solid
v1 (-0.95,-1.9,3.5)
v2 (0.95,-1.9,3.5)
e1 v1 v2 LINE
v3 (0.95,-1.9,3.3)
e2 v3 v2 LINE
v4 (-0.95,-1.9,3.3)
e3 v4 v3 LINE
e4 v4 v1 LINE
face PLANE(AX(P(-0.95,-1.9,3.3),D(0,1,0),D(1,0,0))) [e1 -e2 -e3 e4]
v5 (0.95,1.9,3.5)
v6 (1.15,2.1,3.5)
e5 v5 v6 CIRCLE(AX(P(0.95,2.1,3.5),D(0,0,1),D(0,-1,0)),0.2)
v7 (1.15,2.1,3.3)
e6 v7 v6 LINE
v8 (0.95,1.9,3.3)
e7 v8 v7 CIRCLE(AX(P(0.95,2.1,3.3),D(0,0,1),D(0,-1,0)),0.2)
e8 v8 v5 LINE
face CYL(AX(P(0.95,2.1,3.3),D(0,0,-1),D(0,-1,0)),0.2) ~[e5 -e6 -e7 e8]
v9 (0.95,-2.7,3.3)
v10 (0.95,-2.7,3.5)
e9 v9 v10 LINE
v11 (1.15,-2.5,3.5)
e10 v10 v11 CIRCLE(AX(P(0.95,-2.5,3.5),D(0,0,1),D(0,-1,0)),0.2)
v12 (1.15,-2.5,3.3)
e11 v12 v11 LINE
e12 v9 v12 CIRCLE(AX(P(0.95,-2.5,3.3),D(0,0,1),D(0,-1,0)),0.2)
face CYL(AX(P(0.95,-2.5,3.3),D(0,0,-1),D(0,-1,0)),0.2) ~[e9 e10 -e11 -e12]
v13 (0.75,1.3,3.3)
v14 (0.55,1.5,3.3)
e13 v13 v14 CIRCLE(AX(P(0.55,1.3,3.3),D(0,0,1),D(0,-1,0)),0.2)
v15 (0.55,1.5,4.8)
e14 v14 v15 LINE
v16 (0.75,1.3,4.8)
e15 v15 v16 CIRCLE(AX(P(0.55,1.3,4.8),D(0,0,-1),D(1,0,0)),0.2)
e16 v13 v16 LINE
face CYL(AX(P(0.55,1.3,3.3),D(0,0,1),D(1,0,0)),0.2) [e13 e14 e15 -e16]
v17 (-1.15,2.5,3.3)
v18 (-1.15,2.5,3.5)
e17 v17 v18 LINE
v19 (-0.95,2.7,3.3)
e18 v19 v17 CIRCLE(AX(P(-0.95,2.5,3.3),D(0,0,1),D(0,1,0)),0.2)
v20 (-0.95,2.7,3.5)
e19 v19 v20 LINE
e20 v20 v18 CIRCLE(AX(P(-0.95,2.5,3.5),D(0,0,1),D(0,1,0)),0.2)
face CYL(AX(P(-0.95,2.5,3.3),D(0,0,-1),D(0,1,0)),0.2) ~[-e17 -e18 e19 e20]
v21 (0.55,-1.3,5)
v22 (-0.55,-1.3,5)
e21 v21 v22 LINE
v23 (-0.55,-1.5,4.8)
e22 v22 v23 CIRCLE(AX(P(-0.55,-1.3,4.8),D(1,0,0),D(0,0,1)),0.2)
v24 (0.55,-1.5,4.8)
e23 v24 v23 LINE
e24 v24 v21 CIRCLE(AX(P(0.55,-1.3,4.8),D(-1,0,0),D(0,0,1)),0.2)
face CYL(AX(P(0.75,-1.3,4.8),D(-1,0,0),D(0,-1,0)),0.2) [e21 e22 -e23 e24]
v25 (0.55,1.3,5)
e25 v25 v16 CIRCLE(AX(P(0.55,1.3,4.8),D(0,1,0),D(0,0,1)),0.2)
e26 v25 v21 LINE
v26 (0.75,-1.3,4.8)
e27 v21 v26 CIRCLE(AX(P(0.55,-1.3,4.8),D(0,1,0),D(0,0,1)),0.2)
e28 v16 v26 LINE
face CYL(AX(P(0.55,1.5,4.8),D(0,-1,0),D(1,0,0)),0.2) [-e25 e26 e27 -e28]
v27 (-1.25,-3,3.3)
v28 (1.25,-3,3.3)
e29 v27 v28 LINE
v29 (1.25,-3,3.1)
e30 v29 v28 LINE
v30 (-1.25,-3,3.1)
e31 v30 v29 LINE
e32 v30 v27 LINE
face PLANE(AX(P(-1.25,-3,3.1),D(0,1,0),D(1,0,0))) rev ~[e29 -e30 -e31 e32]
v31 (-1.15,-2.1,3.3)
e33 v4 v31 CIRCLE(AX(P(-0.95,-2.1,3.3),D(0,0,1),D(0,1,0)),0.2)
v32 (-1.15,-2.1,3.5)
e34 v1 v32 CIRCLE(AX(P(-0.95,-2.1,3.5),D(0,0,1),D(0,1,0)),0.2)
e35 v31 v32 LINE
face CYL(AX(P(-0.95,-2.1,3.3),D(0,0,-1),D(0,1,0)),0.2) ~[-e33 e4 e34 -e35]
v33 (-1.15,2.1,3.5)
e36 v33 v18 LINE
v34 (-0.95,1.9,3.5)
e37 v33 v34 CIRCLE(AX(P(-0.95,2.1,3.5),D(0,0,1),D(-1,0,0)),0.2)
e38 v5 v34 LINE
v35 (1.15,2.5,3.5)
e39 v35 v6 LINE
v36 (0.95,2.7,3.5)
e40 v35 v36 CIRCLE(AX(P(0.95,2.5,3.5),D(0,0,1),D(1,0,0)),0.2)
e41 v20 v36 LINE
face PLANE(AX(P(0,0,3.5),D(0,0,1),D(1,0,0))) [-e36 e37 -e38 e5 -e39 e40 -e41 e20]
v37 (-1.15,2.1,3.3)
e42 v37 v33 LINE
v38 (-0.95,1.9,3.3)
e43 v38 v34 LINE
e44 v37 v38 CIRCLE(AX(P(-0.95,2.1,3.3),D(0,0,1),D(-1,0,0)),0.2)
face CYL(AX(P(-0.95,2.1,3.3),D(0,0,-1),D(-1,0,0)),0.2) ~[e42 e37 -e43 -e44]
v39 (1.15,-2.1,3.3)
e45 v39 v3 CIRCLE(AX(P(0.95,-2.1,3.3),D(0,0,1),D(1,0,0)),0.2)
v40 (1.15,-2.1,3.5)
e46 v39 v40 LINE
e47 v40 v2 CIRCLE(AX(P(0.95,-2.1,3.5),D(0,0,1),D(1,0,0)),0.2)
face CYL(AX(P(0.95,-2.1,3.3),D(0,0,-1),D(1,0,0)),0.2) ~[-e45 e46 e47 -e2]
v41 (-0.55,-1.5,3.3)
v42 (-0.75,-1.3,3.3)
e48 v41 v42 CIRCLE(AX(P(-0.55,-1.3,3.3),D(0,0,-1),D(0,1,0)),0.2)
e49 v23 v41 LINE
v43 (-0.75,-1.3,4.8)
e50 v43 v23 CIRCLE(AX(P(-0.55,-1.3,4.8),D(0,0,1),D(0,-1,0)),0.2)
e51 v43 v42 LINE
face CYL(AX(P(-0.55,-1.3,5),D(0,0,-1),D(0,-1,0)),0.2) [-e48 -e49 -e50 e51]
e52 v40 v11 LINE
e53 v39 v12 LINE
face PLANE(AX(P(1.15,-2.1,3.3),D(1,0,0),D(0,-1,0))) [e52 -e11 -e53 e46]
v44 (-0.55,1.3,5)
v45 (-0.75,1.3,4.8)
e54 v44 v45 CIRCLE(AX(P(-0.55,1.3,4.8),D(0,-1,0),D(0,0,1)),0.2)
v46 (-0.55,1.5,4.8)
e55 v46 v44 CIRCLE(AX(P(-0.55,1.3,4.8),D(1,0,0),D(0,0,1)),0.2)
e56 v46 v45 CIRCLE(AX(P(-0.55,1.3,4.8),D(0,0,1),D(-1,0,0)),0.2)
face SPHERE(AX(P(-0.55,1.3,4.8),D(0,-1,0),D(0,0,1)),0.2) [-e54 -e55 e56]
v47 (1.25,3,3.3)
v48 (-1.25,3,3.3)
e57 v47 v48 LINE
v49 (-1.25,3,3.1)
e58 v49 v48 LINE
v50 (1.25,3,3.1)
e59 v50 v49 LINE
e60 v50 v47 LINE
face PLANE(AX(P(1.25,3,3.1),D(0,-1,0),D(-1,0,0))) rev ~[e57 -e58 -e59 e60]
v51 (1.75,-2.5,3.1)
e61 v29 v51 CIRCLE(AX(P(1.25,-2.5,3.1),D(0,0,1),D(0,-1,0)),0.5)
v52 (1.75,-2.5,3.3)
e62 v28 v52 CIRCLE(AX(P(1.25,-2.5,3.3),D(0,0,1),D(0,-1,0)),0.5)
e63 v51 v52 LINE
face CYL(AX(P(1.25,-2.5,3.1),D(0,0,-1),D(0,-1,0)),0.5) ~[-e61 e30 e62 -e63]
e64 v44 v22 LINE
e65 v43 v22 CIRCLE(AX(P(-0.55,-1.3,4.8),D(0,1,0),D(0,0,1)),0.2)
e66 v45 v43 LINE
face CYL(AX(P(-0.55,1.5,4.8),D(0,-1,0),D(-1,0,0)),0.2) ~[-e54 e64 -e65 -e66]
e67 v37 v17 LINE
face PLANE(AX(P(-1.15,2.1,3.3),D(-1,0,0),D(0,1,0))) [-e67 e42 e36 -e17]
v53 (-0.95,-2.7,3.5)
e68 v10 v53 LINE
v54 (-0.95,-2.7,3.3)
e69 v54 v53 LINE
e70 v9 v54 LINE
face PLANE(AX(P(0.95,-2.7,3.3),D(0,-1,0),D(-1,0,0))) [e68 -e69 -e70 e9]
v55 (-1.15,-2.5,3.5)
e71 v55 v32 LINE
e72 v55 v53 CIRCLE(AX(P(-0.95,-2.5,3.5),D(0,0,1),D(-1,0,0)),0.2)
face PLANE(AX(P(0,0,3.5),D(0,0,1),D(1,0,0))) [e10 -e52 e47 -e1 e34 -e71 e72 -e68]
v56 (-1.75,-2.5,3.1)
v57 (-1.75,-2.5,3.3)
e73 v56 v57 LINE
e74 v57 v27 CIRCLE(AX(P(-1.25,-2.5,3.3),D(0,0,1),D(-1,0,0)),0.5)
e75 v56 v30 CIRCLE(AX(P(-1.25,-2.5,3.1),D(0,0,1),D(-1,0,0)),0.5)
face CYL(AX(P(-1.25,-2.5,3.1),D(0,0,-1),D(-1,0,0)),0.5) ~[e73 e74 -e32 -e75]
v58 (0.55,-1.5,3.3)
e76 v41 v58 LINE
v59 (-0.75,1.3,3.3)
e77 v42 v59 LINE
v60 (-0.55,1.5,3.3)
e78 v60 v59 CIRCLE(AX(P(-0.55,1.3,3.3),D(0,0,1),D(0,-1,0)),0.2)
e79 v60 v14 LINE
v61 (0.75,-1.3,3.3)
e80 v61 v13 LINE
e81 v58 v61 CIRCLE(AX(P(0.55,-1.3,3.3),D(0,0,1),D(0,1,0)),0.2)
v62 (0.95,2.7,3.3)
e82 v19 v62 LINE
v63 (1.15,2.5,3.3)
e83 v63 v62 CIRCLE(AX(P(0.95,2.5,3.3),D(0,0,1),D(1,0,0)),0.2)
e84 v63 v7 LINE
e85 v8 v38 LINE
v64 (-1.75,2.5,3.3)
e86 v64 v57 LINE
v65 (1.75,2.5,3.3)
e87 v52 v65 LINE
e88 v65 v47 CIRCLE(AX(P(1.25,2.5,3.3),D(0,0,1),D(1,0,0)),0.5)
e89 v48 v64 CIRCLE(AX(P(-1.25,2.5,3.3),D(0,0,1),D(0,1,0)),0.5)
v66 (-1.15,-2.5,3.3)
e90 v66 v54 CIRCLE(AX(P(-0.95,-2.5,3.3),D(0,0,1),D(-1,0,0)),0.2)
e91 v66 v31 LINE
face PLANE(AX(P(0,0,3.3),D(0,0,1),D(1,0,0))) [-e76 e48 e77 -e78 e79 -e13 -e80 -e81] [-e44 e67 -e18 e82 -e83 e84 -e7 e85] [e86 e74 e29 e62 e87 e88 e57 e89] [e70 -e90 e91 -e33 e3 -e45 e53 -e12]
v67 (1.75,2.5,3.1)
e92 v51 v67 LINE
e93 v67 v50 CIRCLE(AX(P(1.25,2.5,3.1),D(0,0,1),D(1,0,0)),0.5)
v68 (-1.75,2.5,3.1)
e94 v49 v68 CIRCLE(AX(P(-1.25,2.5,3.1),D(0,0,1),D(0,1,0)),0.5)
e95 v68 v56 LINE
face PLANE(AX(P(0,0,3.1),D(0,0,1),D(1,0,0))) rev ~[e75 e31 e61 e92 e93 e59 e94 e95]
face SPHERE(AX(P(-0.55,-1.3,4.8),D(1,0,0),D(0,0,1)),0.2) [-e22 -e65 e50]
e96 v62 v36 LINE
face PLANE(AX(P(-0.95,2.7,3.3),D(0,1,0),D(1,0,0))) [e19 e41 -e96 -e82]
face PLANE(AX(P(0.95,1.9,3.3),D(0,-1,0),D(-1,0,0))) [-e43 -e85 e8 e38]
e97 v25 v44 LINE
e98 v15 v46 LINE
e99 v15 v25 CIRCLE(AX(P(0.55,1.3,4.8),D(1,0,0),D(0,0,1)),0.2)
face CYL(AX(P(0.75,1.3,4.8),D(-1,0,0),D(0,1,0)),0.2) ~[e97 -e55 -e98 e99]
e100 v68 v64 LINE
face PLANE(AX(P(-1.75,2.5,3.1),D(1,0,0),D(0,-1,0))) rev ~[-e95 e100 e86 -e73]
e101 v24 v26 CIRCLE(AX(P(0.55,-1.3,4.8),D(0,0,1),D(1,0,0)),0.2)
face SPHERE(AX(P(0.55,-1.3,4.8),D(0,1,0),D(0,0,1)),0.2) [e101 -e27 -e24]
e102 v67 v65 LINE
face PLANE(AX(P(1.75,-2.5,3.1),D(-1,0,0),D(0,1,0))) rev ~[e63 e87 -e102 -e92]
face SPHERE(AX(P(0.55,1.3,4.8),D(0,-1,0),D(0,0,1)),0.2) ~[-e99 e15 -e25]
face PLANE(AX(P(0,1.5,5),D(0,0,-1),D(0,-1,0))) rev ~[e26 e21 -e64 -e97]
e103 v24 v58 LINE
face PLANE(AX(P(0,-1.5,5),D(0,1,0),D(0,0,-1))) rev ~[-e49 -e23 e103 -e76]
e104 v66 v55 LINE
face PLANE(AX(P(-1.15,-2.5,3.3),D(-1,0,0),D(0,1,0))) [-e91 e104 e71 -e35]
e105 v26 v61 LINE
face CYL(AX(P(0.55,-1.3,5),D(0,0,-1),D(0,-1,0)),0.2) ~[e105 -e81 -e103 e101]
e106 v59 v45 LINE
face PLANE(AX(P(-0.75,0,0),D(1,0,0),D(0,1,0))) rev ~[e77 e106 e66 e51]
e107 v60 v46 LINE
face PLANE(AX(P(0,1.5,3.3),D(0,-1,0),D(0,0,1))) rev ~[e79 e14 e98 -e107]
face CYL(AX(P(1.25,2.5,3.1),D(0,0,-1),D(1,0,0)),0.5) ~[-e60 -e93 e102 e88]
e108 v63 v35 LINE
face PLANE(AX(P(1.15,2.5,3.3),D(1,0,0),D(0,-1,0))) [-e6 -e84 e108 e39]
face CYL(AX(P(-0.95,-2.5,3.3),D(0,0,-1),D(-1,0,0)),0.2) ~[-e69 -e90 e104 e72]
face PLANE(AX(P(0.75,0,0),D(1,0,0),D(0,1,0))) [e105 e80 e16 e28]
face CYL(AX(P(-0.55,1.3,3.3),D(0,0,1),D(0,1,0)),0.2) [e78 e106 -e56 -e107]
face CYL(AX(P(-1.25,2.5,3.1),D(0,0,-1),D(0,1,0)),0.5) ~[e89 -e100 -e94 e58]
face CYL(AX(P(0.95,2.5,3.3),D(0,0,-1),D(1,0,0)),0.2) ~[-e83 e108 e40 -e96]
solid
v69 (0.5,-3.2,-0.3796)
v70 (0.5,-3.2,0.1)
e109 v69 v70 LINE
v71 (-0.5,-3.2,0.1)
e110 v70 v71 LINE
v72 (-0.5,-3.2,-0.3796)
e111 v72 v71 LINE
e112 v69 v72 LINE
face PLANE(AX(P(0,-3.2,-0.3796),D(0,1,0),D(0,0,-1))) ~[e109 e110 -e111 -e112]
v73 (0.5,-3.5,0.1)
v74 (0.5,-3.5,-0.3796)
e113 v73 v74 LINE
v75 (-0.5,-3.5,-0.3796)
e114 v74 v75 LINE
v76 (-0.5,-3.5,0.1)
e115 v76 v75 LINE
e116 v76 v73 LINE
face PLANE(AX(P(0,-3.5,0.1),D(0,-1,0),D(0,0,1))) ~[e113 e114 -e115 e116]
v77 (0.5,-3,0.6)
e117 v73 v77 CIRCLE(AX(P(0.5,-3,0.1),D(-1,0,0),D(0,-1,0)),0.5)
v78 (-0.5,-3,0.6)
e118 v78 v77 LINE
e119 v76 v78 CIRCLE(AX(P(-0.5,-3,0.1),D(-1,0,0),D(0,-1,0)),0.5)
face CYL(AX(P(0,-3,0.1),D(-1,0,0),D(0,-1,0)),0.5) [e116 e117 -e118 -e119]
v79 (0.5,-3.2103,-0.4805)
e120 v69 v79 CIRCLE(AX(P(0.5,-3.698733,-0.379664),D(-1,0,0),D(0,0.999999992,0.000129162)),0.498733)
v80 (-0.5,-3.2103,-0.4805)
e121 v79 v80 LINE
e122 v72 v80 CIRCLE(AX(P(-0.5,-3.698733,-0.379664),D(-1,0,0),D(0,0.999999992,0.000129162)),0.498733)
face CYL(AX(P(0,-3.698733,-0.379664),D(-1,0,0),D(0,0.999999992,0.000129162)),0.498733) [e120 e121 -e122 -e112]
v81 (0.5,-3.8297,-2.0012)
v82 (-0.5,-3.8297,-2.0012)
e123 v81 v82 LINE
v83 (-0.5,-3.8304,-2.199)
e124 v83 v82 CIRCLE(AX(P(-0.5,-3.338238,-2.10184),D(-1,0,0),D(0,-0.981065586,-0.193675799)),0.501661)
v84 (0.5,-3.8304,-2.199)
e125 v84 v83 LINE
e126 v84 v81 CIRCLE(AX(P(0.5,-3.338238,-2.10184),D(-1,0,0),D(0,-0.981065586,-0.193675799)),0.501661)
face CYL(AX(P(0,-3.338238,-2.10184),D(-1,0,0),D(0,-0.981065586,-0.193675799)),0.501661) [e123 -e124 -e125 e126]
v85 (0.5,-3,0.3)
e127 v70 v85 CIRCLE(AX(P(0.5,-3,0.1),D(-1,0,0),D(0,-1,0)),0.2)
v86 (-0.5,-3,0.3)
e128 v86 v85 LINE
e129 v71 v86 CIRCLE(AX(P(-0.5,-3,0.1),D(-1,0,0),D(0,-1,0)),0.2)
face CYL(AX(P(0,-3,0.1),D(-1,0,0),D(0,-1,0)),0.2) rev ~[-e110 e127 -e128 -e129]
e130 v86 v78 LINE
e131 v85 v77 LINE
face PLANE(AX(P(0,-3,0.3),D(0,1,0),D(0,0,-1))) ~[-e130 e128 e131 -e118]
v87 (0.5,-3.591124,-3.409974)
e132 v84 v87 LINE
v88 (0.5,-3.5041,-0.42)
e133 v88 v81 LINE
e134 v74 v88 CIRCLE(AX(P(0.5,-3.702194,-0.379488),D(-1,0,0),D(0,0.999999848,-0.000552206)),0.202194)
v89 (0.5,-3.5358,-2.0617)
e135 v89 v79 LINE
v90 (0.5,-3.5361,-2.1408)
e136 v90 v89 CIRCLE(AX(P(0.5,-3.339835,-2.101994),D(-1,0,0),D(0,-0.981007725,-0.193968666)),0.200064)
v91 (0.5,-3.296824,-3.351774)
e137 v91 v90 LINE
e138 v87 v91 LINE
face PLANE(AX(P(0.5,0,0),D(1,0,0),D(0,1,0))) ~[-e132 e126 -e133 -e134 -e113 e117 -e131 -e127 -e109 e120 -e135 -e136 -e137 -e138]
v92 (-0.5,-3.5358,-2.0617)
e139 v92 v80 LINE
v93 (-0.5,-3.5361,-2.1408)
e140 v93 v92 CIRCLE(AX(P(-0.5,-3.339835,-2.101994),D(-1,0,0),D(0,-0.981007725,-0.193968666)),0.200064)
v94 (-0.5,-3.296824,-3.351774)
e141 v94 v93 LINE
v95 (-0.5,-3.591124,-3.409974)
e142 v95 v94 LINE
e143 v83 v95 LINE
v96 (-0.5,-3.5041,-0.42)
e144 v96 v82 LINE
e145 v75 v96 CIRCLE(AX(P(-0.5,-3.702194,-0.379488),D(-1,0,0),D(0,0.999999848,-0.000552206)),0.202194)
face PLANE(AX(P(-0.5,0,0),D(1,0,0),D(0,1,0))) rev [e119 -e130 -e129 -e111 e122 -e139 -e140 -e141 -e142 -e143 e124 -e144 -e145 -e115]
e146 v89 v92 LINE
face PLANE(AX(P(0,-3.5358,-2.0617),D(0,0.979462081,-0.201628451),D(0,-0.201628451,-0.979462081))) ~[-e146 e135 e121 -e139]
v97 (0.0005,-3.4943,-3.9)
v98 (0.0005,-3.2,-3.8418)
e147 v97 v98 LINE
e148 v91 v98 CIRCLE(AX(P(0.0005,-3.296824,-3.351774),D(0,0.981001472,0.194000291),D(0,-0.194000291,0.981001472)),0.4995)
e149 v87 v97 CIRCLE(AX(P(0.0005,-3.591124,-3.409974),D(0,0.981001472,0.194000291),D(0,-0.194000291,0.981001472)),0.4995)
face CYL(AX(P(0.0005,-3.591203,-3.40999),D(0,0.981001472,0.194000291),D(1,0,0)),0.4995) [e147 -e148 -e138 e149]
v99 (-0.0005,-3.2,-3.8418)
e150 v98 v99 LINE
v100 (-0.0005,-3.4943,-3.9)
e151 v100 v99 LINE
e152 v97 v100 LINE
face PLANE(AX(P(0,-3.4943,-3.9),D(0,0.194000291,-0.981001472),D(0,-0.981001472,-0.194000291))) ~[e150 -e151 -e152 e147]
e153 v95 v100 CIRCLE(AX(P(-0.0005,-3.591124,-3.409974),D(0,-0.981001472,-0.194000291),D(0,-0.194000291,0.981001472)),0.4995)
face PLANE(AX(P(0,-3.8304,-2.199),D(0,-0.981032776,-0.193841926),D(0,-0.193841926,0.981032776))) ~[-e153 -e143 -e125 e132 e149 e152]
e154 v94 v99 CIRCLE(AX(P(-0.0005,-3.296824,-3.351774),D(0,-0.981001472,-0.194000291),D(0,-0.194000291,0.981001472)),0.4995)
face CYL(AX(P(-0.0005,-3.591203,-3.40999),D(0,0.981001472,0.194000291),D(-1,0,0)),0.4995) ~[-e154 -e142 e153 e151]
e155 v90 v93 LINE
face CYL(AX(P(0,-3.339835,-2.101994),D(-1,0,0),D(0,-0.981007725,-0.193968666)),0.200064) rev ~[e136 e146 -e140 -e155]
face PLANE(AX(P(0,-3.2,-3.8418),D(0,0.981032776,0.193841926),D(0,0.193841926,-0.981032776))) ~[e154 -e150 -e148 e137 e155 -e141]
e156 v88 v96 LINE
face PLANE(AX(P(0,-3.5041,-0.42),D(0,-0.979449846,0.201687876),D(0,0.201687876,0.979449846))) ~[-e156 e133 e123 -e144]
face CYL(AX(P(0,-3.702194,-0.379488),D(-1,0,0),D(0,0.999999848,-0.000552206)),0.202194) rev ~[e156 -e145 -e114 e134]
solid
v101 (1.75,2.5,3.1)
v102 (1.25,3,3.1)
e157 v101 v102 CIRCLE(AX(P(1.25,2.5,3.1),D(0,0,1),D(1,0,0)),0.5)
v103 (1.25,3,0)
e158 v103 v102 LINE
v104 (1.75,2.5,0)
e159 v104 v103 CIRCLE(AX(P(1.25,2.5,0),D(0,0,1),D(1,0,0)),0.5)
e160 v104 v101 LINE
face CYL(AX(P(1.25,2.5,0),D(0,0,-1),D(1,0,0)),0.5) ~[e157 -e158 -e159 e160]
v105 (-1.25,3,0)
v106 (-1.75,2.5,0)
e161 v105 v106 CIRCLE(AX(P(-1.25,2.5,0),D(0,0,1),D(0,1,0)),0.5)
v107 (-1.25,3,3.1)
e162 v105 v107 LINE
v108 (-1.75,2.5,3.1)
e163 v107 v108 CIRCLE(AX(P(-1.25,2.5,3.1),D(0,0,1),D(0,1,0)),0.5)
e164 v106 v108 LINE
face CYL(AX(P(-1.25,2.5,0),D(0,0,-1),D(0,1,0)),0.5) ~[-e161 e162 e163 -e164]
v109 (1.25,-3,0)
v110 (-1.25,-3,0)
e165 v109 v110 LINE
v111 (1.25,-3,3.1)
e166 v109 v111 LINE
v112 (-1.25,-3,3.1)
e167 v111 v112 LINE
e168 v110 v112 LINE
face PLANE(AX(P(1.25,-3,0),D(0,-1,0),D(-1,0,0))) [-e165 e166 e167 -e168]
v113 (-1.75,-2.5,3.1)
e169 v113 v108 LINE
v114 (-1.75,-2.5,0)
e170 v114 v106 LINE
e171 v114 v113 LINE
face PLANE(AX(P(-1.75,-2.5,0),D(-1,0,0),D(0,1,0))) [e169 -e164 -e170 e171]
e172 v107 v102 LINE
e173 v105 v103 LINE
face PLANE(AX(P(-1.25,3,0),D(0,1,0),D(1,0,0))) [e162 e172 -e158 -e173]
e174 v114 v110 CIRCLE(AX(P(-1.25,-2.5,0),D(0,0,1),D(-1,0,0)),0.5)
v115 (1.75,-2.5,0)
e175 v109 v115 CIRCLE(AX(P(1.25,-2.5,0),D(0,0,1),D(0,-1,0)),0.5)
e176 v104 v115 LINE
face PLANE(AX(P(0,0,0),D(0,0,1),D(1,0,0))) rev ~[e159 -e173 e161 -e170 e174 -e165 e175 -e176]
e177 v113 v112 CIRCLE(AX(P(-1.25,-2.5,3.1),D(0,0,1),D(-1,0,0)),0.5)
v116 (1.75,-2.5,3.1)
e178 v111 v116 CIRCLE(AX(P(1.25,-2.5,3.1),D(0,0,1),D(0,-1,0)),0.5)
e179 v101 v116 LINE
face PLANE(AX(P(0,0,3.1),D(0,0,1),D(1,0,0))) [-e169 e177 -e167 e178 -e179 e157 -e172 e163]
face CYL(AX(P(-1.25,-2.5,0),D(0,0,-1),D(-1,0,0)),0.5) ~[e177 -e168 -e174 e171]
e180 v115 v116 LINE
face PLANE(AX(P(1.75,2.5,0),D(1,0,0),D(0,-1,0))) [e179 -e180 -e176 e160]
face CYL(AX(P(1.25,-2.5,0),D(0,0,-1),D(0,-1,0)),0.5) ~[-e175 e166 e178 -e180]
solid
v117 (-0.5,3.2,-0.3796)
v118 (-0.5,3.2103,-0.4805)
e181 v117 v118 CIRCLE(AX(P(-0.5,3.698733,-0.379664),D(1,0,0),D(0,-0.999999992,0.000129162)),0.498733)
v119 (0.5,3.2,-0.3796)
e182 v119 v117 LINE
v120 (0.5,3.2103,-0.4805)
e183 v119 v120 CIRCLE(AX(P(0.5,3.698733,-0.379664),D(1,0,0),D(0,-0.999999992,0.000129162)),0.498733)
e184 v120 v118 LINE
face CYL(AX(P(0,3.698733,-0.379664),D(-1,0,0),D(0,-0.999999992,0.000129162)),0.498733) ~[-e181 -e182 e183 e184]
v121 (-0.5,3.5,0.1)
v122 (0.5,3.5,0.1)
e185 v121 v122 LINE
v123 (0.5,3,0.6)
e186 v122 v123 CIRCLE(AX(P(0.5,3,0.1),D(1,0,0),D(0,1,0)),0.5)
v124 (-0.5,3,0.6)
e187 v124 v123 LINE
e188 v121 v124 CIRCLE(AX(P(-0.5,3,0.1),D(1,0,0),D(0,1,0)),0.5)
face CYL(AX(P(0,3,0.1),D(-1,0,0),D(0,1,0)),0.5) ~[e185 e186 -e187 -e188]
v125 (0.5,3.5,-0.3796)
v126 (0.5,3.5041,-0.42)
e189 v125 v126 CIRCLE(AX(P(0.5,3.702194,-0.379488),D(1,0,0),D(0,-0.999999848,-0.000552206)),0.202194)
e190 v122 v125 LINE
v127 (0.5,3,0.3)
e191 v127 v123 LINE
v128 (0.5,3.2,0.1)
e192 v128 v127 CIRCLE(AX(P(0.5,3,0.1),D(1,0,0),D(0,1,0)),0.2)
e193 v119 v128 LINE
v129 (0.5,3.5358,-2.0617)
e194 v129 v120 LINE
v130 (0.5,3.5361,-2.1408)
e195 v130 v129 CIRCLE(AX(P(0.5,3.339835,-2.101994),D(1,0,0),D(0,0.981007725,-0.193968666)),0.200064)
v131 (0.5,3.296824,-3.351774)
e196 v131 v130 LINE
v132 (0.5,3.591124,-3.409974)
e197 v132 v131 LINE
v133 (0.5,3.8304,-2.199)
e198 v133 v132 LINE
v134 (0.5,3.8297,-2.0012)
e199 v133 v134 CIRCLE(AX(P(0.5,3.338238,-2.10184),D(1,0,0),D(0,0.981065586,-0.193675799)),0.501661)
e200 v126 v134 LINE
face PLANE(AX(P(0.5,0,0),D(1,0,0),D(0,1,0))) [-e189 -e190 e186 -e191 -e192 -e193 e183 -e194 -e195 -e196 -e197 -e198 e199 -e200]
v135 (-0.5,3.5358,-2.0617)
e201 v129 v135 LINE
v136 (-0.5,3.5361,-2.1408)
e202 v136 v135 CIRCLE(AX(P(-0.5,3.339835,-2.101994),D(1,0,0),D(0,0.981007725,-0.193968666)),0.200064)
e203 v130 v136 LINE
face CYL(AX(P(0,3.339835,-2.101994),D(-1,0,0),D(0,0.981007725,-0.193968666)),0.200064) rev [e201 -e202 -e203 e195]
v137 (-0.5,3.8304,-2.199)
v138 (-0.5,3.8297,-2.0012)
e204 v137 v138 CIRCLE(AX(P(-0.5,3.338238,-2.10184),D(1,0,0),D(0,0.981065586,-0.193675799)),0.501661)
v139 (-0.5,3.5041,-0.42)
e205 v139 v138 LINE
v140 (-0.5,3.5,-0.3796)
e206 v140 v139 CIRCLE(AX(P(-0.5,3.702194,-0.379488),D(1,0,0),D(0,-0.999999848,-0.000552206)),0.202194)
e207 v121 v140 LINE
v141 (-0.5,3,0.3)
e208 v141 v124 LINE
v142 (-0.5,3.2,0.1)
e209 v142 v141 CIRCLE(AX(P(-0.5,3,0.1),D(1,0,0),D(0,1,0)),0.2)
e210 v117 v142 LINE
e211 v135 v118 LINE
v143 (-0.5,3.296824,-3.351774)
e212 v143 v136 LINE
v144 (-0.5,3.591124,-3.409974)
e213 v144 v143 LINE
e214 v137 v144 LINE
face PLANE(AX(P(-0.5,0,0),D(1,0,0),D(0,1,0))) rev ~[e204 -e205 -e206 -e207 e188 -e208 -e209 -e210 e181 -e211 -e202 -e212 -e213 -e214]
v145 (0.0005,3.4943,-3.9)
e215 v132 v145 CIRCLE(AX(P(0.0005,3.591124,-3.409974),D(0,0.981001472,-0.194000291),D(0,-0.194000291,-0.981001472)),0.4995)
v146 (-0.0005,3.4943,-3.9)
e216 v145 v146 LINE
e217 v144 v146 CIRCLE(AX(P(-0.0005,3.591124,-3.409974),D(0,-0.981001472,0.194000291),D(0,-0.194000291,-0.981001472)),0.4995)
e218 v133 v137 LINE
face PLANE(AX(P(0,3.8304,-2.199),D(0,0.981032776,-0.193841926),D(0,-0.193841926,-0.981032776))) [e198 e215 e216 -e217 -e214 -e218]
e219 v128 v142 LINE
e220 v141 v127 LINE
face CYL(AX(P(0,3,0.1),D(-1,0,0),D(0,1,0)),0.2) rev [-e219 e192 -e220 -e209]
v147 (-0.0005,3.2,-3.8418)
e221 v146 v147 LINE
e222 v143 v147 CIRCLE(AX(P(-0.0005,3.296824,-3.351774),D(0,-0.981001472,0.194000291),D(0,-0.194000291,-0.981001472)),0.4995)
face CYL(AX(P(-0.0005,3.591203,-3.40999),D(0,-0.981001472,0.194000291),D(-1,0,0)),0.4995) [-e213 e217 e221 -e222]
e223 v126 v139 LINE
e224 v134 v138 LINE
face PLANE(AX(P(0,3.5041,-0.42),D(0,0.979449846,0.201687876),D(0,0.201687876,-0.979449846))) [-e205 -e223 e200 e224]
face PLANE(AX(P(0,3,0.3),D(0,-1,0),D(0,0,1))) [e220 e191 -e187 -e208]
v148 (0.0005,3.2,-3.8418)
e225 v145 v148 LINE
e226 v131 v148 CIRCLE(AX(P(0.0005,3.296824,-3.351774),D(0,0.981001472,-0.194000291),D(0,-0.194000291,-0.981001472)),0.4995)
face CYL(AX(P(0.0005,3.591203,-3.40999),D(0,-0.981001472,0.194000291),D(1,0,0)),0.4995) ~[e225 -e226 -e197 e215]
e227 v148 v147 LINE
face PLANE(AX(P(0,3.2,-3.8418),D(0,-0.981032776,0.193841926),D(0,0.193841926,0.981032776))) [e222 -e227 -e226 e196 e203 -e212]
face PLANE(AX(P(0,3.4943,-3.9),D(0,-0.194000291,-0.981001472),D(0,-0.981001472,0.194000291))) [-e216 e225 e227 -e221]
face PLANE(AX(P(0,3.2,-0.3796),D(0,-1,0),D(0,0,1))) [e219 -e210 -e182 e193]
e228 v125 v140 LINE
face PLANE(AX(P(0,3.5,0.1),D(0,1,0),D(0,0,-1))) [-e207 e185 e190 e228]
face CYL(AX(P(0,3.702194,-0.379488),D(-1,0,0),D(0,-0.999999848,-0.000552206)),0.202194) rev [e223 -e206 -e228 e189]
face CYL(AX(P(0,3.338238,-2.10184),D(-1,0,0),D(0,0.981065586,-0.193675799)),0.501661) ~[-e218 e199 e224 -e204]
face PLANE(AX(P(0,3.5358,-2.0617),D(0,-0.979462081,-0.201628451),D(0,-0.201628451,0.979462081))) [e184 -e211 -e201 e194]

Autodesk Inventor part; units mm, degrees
ref_plane "YZ Plane" through (0, 0, 0) normal (1, 0, 0) x (0, 1, 0)
ref_plane "XZ Plane" through (0, 0, 0) normal (0, 1, 0) x (-1, 0, 0)
ref_plane "XY Plane" through (0, 0, 0) normal (0, 0, 1) x (1, 0, 0)
sketch "Boceto39" plane through (0, 0, 0) normal (0, 0, 1) x (1, 0, 0)
  line L0 (-1.25, 3) -> (1.25, 3)
  line L1 (1.75, 2.5) -> (1.75, -2.5)
  line L2 (1.25, -3) -> (-1.25, -3)
  line L3 (-1.75, -2.5) -> (-1.75, 2.5)
  arc A0 (1.75, 2.5) -> (1.25, 3) centre (1.25, 2.5) ccw
  arc A1 (-1.25, 3) -> (-1.75, 2.5) centre (-1.25, 2.5) ccw
  arc A2 (-1.75, -2.5) -> (-1.25, -3) centre (-1.25, -2.5) ccw
  arc A3 (1.25, -3) -> (1.75, -2.5) centre (1.25, -2.5) ccw
  point P0 (0, 0)
  point P1 (-1.75, 3)
  point P2 (1.75, -3)
  point P3 (1.75, 3)
  point P4 (-1.75, -3)
  point P5 (0, 3)
  point P6 (1.75, 0)
  dimension "d373" = 3.5
  dimension "d376" = 0.5
  dimension "d437" = 6
extrude "Extrusión13" add sketch "Boceto39" along normal blind 3.1
sketch "Boceto40" plane through (0, 0, 3.1) normal (0, 0, 1) x (1, 0, 0)
  line L0 (1.25, 3) -> (-1.25, 3) projected
  arc A0 (-1.25, 3) -> (-1.75, 2.5) centre (-1.25, 2.5) ccw projected
  line L1 (-1.75, 2.5) -> (-1.75, -2.5) projected
  arc A1 (-1.75, -2.5) -> (-1.25, -3) centre (-1.25, -2.5) ccw projected
  line L2 (-1.25, -3) -> (1.25, -3) projected
  arc A2 (1.25, -3) -> (1.75, -2.5) centre (1.25, -2.5) ccw projected
  line L3 (1.75, -2.5) -> (1.75, 2.5) projected
  arc A3 (1.75, 2.5) -> (1.25, 3) centre (1.25, 2.5) ccw projected
  point P0 (0, 0)
extrude "Extrusión14" add sketch "Boceto40" along normal blind 0.2 separate body
sketch "Boceto43" plane through (0, 0, 0) normal (1, 0, 0) x (0, 1, 0)
  line L0 (0, 0) -> (0, -3.6276) construction
  line L1 (3, 0) -> (3, 3.1) construction
  line L2 (3, 0.6) -> (3, 0.6)
  line L3 (2.5, 3.3) -> (-2.5, 3.3) projected
  line L4 (2.5, 0) -> (-2.5, 0) projected
  line L5 (3.5, 0.1) -> (3.5, -0.3796)
  line L6 (3.5041, -0.42) -> (3.8297, -2.0012)
  line L7 (3.8304, -2.199) -> (3.4943, -3.9)
  line L8 (3.4943, -3.9) -> (3.2, -3.8418)
  line L9 (3.2, -3.8418) -> (3.5361, -2.1408)
  line L10 (3.5358, -2.0617) -> (3.2103, -0.4805)
  line L11 (3.2, -0.3796) -> (3.2, 0.1)
  line L12 (3, 0.3) -> (3, 0.3)
  line L13 (3, 0.3) -> (3, 0.6)
  arc A0 (3.2, 0.1) -> (3, 0.3) centre (3, 0.1) ccw
  arc A1 (3.5, -0.3796) -> (3.5041, -0.42) centre (3.7, -0.3796) ccw
  arc A2 (3.5361, -2.1408) -> (3.5358, -2.0617) centre (3.3399, -2.102) ccw
  arc A3 (3.5, 0.1) -> (3, 0.6) centre (3, 0.1) ccw
  arc A4 (3.2, -0.3796) -> (3.2103, -0.4805) centre (3.7, -0.3796) ccw
  arc A5 (3.8304, -2.199) -> (3.8297, -2.0012) centre (3.3399, -2.102) ccw
  point P0 (3.5, 0.6)
  point P1 (3.5, -0.4)
  point P2 (3.85, -2.1)
  point P3 (3.2, -0.4306)
  dimension "d399" = 2.7
  dimension "d426" = 0.3
  dimension "d427" = 0.3
  dimension "d428" = 0.3
  dimension "d429" = 0.3
  dimension "d430" = 3.85
  dimension "d431" = 3.2
  dimension "d432" = 3.9
  dimension "d433" = 1.8
  dimension "d434" = 1
  dimension "d435" = 0.2
  dimension "d436" = 0.5
extrude "Extrusión15" add sketch "Boceto43" along normal mid plane 1 separate body
fillet "Empalme44" radius 0.5 2 edges at (0.5, 3.3472, -3.8709) (-0.5, 3.3472, -3.8709)
mirror "Simetría1" about plane through (0, 0, 0) normal (0, 1, 0) of "Extrusión15", "Empalme44" bodies 3
sketch "Boceto49" plane through (0, 0, 3.3) normal (0, 0, 1) x (1, 0, 0)
  line L0 (0.95, -2.7) -> (-0.95, -2.7)
  line L1 (-1.15, -2.5) -> (-1.15, -2.1)
  line L2 (-0.95, -1.9) -> (0.95, -1.9)
  line L3 (1.15, -2.1) -> (1.15, -2.5)
  line L4 (0.95, 1.9) -> (-0.95, 1.9)
  line L5 (-1.15, 2.1) -> (-1.15, 2.5)
  line L6 (-0.95, 2.7) -> (0.95, 2.7)
  line L7 (1.15, 2.5) -> (1.15, 2.1)
  arc A0 (0.95, -2.7) -> (1.15, -2.5) centre (0.95, -2.5) ccw
  arc A1 (1.15, -2.1) -> (0.95, -1.9) centre (0.95, -2.1) ccw
  arc A2 (-0.95, -1.9) -> (-1.15, -2.1) centre (-0.95, -2.1) ccw
  arc A3 (-1.15, -2.5) -> (-0.95, -2.7) centre (-0.95, -2.5) ccw
  arc A4 (-1.15, 2.1) -> (-0.95, 1.9) centre (-0.95, 2.1) ccw
  arc A5 (-0.95, 2.7) -> (-1.15, 2.5) centre (-0.95, 2.5) ccw
  arc A6 (1.15, 2.5) -> (0.95, 2.7) centre (0.95, 2.5) ccw
  arc A7 (0.95, 1.9) -> (1.15, 2.1) centre (0.95, 2.1) ccw
  line L8 (-1.15, 2.3) -> (1.15, 2.3) construction
  line L9 (-1.15, -2.3) -> (1.15, -2.3) construction
  line L10 (0.1537, -1.5) -> (-0.1537, -1.5) construction
  line L11 (-0.1537, -1.5) -> (-0.1537, 1.5) construction
  line L12 (-0.1537, 1.5) -> (0.1537, 1.5) construction
  line L13 (0.1537, 1.5) -> (0.1537, -1.5) construction
  point P0 (0, 0)
  point P1 (1.15, 1.9)
  point P2 (0, -2.7)
  point P3 (0, 1.9)
  point P4 (0, -1.5)
  point P5 (0.1537, 0)
  dimension "d438" = 0.8
  dimension "d439" = 0.2
  dimension "d441" = 2.3
  dimension "d442" = 2.3
  dimension "d443" = 3
  dimension "d444" = 2.3
extrude "Extrusión19" add sketch "Boceto49" along normal blind 0.2 bodies 2
sketch "Boceto50" plane through (0, 0, 0) normal (1, 0, 0) x (0, 1, 0)
  line L0 (-2.5, 3.3) -> (2.5, 3.3) projected
  line L1 (-1.5, 3.3) -> (1.5, 3.3)
  line L2 (1.5, 3.3) -> (1.5, 5)
  line L3 (1.5, 5) -> (-1.5, 5)
  line L4 (-1.5, 5) -> (-1.5, 3.3)
  line L5 (2.5, 0) -> (-2.5, 0) projected
  point P0 (0, 0)
  point P1 (0, 5)
  dimension "d447" = 5
  dimension "d448" = 3
extrude "Extrusión20" add sketch "Boceto50" along normal mid plane 1.5 bodies 2
fillet "Empalme45" radius 0.2 8 edges at (0.75, 0, 5) (0, -1.5, 5) (-0.75, 0, 5) (0, 1.5, 5) (0.75, 1.5, 4.15) (-0.75, 1.5, 4.15) (0.75, -1.5, 4.15) (-0.75, -1.5, 4.15)
properties part number "TACT-SWITCH-THT-3X6MM"
